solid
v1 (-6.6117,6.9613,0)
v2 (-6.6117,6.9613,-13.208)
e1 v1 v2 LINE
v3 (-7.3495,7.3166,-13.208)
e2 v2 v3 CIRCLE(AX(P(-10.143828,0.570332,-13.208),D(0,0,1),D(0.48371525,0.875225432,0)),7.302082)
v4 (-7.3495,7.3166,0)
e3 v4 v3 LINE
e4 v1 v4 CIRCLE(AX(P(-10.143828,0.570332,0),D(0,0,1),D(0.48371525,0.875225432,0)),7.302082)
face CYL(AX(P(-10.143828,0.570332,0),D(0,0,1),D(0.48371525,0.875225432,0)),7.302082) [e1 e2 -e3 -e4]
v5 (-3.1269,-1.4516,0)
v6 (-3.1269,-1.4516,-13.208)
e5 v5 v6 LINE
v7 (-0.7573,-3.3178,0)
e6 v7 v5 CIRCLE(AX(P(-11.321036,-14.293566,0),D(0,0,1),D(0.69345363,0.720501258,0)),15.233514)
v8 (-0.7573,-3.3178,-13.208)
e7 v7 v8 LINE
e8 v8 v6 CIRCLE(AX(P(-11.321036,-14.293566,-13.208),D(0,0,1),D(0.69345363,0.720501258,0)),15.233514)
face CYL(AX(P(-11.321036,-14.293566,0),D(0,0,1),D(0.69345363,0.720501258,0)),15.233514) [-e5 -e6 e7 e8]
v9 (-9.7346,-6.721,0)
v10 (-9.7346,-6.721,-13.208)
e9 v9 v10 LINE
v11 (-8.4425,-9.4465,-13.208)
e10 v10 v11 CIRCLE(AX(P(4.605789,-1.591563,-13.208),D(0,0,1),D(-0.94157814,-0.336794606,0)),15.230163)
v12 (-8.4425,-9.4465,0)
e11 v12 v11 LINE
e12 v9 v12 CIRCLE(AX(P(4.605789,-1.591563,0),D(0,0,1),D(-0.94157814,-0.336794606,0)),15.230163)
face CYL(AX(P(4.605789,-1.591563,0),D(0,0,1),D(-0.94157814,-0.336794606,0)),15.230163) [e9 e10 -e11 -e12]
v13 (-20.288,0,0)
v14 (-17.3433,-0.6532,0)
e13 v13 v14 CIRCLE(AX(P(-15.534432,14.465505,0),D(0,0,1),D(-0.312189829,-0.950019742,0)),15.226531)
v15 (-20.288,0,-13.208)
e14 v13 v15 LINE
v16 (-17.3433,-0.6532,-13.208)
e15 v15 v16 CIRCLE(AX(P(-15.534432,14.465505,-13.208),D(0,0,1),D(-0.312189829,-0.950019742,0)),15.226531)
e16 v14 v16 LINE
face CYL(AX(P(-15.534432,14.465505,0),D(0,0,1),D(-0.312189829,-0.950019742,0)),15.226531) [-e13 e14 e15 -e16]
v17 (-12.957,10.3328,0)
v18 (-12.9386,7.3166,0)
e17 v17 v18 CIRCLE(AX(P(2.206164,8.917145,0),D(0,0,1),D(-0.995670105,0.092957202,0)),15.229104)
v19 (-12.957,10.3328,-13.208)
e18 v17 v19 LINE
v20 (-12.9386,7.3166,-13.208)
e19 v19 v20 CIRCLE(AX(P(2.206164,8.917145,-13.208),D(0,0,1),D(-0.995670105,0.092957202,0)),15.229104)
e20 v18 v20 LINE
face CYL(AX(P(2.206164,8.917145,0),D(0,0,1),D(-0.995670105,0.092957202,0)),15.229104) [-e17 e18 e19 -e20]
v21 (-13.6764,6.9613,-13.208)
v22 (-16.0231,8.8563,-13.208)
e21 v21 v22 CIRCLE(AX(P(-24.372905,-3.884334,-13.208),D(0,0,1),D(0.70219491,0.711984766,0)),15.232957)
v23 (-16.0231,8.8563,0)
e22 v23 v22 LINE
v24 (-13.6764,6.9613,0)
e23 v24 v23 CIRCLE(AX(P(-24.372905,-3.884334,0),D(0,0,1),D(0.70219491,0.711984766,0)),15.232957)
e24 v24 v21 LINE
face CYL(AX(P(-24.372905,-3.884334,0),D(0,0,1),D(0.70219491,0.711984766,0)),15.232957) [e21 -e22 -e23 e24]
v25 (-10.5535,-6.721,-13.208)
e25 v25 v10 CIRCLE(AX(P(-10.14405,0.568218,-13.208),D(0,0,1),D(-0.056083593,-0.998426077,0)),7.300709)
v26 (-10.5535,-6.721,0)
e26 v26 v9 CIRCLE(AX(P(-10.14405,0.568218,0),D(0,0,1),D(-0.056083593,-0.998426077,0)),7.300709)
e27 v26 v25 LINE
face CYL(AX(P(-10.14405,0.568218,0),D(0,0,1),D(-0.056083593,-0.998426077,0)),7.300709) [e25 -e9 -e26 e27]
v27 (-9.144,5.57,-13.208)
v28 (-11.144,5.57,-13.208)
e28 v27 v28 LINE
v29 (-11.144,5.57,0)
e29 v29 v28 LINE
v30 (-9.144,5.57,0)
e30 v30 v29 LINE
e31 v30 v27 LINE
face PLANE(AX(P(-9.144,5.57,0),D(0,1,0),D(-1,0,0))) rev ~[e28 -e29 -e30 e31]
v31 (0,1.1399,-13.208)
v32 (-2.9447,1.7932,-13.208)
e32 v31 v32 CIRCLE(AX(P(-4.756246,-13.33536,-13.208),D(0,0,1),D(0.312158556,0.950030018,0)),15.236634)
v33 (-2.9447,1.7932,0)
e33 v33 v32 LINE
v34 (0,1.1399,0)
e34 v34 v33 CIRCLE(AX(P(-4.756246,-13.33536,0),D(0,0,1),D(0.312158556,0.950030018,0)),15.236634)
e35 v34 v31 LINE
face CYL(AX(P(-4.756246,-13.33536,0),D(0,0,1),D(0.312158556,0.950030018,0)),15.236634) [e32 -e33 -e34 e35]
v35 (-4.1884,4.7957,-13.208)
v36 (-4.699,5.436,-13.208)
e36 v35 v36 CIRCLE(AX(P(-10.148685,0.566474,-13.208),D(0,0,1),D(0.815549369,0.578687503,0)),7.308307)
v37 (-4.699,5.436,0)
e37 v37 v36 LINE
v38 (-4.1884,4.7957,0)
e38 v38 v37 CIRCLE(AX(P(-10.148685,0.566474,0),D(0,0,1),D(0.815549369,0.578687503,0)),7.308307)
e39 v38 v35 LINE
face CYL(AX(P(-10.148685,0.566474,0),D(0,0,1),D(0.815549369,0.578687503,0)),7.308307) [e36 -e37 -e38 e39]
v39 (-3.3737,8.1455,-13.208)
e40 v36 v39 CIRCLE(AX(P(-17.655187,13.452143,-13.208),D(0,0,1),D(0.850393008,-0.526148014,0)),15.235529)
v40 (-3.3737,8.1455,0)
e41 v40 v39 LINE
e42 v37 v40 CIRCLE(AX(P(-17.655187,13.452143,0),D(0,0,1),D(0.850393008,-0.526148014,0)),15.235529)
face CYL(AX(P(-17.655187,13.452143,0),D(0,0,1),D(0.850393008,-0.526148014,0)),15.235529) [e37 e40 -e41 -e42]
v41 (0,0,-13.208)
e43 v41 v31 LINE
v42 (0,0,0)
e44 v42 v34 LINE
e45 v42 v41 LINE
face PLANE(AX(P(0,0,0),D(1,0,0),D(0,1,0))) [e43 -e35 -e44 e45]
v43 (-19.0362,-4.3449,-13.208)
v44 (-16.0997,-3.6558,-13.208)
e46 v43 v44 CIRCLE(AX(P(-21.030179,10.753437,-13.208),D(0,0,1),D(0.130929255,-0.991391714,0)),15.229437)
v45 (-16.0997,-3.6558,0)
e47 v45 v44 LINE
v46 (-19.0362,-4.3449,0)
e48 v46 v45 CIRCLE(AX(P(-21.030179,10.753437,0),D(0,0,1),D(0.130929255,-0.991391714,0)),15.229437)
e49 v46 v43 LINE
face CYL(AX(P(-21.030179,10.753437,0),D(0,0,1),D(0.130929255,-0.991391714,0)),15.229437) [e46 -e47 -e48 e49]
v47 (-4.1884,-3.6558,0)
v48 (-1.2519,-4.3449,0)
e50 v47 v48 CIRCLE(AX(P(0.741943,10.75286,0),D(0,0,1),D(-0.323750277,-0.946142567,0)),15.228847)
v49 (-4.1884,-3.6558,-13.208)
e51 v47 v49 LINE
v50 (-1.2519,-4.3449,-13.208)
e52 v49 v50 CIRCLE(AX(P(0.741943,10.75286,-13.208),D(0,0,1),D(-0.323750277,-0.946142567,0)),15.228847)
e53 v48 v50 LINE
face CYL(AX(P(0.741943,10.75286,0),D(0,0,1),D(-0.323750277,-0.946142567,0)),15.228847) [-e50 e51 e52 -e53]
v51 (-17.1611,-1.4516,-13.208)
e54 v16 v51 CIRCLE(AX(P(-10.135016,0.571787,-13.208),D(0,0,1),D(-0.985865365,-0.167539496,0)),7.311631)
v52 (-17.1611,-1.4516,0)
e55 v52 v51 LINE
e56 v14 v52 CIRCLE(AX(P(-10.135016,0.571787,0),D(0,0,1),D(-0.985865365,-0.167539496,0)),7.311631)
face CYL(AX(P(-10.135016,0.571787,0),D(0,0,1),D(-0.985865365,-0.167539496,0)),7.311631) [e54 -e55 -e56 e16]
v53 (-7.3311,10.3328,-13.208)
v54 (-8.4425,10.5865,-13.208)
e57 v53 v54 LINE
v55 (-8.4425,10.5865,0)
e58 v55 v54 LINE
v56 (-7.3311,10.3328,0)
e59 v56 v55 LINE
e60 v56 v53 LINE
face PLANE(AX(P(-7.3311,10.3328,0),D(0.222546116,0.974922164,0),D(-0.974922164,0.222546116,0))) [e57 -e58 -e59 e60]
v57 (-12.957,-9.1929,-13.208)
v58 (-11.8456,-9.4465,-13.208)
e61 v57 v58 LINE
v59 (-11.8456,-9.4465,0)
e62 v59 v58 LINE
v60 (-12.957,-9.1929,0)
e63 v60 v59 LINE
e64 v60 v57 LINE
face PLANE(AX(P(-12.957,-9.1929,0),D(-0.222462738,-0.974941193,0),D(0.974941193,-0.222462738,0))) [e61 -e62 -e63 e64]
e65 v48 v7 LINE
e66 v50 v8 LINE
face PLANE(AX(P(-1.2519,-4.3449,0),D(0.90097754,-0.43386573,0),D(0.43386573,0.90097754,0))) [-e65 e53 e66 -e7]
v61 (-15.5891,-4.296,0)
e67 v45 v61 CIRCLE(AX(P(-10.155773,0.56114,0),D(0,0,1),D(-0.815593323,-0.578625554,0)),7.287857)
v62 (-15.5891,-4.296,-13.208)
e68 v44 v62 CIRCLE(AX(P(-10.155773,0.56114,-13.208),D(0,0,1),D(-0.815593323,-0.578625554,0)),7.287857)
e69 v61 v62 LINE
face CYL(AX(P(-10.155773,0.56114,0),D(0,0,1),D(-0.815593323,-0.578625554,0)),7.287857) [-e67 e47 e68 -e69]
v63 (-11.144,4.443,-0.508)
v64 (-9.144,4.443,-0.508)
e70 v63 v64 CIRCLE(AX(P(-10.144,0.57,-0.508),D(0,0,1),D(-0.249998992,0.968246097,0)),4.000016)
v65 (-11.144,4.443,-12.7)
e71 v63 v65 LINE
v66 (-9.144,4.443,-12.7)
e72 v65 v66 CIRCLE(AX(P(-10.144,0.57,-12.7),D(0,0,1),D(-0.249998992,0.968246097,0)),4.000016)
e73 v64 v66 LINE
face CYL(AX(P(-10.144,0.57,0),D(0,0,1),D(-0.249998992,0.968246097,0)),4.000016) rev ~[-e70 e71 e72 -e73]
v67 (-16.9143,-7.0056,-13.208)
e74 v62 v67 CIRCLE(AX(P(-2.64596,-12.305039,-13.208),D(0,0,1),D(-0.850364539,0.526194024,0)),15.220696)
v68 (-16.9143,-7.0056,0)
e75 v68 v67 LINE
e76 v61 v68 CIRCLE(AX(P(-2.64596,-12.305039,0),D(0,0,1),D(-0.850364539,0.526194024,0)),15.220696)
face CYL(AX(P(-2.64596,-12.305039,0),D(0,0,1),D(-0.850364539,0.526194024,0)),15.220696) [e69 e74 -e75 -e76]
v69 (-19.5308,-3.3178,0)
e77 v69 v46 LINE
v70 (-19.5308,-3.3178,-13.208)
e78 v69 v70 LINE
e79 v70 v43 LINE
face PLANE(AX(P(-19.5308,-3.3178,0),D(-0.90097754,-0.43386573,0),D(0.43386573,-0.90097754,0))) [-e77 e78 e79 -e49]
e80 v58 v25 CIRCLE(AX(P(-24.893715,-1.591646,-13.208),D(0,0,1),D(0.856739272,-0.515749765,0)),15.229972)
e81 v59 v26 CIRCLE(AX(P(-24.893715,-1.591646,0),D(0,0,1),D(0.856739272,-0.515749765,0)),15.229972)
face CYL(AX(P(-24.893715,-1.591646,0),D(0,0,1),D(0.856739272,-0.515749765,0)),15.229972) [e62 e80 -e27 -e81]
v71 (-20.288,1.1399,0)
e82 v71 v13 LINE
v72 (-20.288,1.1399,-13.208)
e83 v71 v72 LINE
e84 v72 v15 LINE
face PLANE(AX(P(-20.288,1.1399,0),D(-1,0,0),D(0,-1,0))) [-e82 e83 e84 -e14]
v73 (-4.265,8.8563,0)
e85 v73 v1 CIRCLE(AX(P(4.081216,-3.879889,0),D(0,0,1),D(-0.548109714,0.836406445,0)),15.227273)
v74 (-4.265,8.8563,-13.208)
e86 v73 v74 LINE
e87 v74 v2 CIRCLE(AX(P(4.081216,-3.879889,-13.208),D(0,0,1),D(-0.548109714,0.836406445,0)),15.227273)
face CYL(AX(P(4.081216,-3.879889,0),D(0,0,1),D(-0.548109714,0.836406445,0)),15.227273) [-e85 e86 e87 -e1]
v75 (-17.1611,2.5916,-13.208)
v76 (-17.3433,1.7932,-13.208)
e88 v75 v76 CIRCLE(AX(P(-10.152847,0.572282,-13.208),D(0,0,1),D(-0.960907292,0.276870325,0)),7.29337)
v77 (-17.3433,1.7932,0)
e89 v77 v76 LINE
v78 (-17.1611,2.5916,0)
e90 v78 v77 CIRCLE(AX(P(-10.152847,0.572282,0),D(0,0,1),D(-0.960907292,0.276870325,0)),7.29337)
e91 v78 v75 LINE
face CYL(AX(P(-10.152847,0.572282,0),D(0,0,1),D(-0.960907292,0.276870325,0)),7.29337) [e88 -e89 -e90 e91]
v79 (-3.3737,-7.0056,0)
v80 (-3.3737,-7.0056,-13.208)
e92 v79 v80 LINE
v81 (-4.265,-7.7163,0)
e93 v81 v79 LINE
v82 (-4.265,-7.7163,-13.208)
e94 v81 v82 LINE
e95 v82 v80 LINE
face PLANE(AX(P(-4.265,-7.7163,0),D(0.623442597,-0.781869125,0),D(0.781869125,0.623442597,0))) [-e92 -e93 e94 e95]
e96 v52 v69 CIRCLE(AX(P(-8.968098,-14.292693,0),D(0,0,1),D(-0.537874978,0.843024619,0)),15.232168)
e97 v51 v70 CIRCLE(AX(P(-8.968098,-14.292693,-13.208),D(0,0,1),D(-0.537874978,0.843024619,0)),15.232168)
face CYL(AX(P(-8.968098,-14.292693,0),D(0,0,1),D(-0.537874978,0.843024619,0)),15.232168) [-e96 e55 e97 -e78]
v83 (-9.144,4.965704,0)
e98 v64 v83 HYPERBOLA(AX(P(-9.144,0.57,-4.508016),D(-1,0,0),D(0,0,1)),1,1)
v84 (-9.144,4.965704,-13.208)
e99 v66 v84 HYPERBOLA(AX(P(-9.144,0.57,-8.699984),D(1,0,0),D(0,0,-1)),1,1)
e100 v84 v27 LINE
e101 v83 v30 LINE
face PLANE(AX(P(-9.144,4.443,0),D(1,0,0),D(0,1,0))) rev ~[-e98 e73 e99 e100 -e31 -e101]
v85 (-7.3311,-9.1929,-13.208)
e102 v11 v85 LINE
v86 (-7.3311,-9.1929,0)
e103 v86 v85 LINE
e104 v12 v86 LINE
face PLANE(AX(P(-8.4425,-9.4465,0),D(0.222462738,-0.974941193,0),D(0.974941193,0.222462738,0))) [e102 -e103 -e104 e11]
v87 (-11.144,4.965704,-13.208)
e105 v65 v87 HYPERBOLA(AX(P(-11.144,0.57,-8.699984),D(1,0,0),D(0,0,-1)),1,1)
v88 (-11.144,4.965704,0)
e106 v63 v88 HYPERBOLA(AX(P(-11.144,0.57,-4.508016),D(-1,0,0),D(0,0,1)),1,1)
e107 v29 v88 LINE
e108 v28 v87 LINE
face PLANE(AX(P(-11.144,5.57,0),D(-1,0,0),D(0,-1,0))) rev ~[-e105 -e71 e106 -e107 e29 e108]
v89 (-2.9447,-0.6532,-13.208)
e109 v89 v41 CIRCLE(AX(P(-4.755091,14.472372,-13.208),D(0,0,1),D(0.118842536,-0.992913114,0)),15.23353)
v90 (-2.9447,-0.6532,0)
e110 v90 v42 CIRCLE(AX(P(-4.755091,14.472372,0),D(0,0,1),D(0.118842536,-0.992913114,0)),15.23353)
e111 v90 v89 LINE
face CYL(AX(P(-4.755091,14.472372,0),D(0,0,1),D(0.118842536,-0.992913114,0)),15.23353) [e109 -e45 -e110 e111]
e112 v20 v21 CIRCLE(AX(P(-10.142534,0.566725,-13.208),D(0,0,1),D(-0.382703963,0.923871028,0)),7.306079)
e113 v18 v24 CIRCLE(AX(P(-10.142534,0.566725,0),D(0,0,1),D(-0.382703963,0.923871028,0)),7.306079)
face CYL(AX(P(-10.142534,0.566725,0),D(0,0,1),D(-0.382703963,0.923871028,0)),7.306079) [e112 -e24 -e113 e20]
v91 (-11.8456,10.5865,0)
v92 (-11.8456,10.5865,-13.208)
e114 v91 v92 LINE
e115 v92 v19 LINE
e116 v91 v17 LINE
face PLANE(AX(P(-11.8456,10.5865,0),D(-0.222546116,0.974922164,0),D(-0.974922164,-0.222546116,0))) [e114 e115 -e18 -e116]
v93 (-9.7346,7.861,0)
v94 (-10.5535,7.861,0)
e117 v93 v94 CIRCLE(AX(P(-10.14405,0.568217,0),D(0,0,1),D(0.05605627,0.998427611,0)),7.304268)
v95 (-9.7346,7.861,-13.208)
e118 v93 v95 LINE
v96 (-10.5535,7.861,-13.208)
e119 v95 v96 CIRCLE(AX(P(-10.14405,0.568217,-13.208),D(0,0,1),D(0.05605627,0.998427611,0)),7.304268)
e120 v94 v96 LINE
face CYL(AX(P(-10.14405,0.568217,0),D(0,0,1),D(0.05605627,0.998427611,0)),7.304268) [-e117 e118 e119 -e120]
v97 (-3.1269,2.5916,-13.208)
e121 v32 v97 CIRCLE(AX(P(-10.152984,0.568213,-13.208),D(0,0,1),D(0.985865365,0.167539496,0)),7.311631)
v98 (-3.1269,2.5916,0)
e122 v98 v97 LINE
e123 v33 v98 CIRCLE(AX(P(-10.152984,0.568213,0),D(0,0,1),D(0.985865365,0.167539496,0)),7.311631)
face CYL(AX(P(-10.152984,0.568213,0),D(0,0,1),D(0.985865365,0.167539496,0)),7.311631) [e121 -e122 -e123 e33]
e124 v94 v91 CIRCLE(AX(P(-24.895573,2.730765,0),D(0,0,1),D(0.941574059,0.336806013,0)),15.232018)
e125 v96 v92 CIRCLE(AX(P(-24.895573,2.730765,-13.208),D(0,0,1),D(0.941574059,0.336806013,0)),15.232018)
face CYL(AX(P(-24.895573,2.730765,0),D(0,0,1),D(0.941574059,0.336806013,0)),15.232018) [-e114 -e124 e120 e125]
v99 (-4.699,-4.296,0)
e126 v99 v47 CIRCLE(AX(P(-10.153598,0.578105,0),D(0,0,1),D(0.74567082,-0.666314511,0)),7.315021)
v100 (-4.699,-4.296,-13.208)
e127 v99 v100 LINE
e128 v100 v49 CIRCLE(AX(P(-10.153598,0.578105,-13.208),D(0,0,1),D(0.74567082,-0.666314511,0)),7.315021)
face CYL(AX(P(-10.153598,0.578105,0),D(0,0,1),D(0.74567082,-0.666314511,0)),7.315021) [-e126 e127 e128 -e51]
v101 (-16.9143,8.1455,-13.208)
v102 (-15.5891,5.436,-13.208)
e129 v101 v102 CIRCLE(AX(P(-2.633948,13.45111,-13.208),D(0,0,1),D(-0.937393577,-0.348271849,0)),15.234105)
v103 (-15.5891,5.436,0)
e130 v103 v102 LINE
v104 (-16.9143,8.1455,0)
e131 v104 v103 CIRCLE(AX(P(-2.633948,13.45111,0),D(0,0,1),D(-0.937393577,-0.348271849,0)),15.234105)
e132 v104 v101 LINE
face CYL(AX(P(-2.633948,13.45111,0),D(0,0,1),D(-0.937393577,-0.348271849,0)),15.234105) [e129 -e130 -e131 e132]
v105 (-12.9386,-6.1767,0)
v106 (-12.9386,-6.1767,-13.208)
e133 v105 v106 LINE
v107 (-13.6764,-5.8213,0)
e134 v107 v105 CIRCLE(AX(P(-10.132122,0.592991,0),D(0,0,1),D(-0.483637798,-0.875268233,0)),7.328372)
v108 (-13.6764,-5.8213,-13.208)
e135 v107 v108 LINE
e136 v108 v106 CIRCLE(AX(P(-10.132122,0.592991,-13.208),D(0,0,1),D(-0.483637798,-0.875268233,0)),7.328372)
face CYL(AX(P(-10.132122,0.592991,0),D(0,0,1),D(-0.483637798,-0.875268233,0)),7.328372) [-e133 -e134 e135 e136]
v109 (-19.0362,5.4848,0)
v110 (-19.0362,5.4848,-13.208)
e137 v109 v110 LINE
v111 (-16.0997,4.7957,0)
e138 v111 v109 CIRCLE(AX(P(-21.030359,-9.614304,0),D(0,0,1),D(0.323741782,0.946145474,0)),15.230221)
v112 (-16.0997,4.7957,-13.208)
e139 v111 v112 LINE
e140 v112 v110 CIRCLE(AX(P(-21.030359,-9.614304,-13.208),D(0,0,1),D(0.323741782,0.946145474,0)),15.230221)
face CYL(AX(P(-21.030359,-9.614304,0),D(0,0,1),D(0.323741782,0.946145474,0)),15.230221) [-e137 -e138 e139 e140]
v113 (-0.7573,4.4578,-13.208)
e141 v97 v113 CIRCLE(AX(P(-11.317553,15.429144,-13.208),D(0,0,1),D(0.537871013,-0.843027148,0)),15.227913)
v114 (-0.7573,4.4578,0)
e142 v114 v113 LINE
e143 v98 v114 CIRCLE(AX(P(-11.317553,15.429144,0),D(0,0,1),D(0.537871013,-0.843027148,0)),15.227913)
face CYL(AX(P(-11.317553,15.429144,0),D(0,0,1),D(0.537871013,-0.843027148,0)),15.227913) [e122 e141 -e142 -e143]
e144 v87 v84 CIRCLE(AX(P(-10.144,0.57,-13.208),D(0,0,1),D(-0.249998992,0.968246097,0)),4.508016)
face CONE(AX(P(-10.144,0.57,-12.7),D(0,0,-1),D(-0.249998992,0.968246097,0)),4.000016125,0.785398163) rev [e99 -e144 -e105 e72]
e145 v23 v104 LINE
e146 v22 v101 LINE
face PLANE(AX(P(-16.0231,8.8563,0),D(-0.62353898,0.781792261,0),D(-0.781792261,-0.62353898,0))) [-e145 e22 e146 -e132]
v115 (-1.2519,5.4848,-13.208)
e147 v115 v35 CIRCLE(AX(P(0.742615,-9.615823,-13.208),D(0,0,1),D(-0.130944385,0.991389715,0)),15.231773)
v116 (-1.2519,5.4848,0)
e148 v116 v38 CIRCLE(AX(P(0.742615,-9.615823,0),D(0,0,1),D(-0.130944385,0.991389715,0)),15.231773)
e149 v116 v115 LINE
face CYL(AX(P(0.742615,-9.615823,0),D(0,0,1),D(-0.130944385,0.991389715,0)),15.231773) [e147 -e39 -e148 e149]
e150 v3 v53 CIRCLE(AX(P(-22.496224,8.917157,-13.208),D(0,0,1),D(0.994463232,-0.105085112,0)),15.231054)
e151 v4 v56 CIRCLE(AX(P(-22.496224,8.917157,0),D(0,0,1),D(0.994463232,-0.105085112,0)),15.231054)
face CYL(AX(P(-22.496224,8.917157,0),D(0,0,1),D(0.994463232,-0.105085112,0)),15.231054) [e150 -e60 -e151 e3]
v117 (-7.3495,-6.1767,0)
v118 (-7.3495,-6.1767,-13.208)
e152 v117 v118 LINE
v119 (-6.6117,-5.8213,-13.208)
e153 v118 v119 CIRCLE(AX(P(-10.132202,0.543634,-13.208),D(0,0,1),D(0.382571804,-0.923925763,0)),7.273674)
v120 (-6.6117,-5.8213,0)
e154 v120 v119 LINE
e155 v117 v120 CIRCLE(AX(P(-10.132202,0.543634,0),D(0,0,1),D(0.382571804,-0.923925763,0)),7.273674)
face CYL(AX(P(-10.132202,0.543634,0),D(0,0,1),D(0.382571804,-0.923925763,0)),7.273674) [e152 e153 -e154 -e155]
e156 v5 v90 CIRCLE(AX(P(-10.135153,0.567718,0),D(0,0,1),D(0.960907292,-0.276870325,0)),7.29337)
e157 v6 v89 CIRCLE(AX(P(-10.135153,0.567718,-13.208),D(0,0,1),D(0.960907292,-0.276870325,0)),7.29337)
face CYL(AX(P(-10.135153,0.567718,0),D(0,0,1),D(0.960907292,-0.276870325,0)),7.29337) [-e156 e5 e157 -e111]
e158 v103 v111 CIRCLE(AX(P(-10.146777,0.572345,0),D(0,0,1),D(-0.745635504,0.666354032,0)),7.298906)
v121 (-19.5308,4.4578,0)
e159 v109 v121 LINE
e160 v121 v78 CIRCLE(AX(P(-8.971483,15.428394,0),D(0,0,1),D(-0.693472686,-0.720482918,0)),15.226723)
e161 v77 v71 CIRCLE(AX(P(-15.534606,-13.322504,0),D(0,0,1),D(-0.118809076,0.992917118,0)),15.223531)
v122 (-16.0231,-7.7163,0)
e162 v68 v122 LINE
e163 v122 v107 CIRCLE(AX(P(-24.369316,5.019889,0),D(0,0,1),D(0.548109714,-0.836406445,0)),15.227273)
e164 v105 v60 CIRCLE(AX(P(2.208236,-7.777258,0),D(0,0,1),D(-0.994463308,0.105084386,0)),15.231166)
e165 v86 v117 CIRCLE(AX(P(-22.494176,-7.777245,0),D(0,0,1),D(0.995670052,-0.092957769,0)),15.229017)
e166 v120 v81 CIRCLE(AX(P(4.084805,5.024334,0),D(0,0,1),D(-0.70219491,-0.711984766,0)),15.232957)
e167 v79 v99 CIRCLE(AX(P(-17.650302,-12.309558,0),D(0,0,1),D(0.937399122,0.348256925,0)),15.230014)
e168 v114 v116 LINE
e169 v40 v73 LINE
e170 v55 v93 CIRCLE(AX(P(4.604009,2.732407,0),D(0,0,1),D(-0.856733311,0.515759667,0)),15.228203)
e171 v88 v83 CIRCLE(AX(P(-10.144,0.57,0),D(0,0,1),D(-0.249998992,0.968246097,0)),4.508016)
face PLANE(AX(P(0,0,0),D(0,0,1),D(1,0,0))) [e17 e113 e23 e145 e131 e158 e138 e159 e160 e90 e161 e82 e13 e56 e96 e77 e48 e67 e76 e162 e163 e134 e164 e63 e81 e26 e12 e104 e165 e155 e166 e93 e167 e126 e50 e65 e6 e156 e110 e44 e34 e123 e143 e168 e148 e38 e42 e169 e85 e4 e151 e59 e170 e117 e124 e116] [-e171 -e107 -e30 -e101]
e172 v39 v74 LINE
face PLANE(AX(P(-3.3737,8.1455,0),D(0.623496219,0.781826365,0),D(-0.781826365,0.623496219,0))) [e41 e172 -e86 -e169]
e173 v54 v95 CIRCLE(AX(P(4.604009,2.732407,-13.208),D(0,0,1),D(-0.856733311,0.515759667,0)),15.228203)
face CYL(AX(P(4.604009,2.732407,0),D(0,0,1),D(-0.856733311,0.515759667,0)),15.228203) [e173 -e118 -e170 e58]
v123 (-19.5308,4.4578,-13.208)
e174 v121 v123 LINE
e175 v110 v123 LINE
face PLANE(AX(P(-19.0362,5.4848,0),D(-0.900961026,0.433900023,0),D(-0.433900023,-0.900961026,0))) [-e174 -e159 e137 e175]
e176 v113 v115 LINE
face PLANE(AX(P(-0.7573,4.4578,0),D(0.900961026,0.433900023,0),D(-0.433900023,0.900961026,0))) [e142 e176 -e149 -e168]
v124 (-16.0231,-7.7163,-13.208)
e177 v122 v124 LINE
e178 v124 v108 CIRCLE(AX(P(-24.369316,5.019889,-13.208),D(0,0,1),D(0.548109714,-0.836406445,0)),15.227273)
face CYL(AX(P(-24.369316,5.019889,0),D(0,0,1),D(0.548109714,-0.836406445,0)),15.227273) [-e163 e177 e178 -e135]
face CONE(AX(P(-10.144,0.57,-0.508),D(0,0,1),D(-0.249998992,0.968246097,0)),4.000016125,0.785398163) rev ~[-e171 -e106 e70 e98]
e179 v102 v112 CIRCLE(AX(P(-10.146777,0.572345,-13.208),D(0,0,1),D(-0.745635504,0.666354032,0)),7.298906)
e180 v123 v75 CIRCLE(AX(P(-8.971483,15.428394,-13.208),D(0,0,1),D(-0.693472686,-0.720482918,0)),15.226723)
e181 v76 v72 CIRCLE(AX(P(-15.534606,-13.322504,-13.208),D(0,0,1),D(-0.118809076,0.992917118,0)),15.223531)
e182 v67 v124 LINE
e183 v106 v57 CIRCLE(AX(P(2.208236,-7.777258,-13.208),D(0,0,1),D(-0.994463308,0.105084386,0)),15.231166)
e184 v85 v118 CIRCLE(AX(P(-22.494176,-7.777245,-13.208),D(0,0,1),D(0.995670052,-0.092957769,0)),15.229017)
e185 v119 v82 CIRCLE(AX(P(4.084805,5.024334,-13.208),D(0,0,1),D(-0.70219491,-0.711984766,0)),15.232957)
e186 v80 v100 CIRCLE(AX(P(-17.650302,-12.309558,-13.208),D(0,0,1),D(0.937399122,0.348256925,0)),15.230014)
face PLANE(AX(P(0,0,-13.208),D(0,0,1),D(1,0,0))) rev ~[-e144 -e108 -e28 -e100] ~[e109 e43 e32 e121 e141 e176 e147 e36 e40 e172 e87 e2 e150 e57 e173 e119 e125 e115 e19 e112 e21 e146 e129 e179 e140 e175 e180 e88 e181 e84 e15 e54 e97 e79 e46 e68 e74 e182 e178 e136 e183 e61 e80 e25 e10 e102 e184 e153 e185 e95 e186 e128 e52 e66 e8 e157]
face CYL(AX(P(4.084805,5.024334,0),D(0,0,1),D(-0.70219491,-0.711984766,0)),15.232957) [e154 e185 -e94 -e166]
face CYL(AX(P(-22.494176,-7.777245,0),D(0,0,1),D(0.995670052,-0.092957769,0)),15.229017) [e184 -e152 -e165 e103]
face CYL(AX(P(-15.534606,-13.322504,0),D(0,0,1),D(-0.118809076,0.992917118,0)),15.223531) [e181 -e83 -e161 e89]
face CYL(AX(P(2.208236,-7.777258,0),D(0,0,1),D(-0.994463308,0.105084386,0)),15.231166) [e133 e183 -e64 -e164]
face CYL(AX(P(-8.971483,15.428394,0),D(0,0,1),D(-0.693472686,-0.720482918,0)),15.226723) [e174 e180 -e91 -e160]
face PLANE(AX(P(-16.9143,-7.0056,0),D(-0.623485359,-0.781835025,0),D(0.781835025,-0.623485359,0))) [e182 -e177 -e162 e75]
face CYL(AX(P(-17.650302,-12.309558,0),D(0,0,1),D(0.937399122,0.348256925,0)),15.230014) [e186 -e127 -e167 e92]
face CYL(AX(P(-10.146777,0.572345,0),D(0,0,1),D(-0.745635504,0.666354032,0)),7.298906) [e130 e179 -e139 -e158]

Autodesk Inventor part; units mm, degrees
ref_plane "YZ Plane" through (0, 0, 0) normal (1, 0, 0) x (0, 1, 0)
ref_plane "XZ Plane" through (0, 0, 0) normal (0, 1, 0) x (-1, 0, 0)
ref_plane "XY Plane" through (0, 0, 0) normal (0, 0, 1) x (1, 0, 0)
sketch "Sketch1" plane through (0, 0, 0) normal (0, 0, 1) x (1, 0, 0)
  arc A0 (-3.1269, -1.4516) -> (-2.9447, -0.6532) centre (-10.144, 0.57) ccw
  arc A1 (-2.9447, -0.6532) -> (0, 0) centre (-4.7545, 14.4689) ccw
  line L0 (0, 0) -> (0, 1.1399)
  arc A2 (0, 1.1399) -> (-2.9447, 1.7932) centre (-4.7545, -13.329) ccw
  arc A3 (-2.9447, 1.7932) -> (-3.1269, 2.5916) centre (-10.144, 0.57) ccw
  arc A4 (-3.1269, 2.5916) -> (-0.7573, 4.4578) centre (-11.3188, 15.4309) ccw
  line L1 (-0.7573, 4.4578) -> (-1.2519, 5.4848)
  arc A5 (-1.2519, 5.4848) -> (-4.1884, 4.7957) centre (0.7423, -9.6141) ccw
  arc A6 (-4.1884, 4.7957) -> (-4.699, 5.436) centre (-10.144, 0.57) ccw
  arc A7 (-4.699, 5.436) -> (-3.3737, 8.1455) centre (-17.6504, 13.4495) ccw
  line L2 (-3.3737, 8.1455) -> (-4.265, 8.8563)
  arc A8 (-4.265, 8.8563) -> (-6.6117, 6.9613) centre (4.0829, -3.8822) ccw
  arc A9 (-6.6117, 6.9613) -> (-7.3495, 7.3166) centre (-10.144, 0.57) ccw
  arc A10 (-7.3495, 7.3166) -> (-7.3311, 10.3328) centre (-22.4952, 8.9171) ccw
  line L3 (-7.3311, 10.3328) -> (-8.4425, 10.5865)
  arc A11 (-8.4425, 10.5865) -> (-9.7346, 7.861) centre (4.6057, 2.7315) ccw
  arc A12 (-9.7346, 7.861) -> (-10.5535, 7.861) centre (-10.144, 0.57) ccw
  arc A13 (-10.5535, 7.861) -> (-11.8456, 10.5865) centre (-24.8938, 2.7315) ccw
  line L4 (-11.8456, 10.5865) -> (-12.957, 10.3328)
  arc A14 (-12.957, 10.3328) -> (-12.9386, 7.3166) centre (2.2072, 8.9171) ccw
  arc A15 (-12.9386, 7.3166) -> (-13.6764, 6.9613) centre (-10.144, 0.57) ccw
  arc A16 (-13.6764, 6.9613) -> (-16.0231, 8.8563) centre (-24.371, -3.8822) ccw
  line L5 (-16.0231, 8.8563) -> (-16.9143, 8.1455)
  arc A17 (-16.9143, 8.1455) -> (-15.5891, 5.436) centre (-2.6377, 13.4495) ccw
  arc A18 (-15.5891, 5.436) -> (-16.0997, 4.7957) centre (-10.144, 0.57) ccw
  arc A19 (-16.0997, 4.7957) -> (-19.0362, 5.4848) centre (-21.0303, -9.6141) ccw
  line L6 (-19.0362, 5.4848) -> (-19.5308, 4.4578)
  arc A20 (-19.5308, 4.4578) -> (-17.1611, 2.5916) centre (-8.9693, 15.4309) ccw
  arc A21 (-17.1611, 2.5916) -> (-17.3433, 1.7932) centre (-10.144, 0.57) ccw
  arc A22 (-17.3433, 1.7932) -> (-20.288, 1.1399) centre (-15.5335, -13.329) ccw
  line L7 (-20.288, 1.1399) -> (-20.288, 0)
  arc A23 (-20.288, 0) -> (-17.3433, -0.6532) centre (-15.5335, 14.4689) ccw
  arc A24 (-17.3433, -0.6532) -> (-17.1611, -1.4516) centre (-10.144, 0.57) ccw
  arc A25 (-17.1611, -1.4516) -> (-19.5308, -3.3178) centre (-8.9693, -14.291) ccw
  line L8 (-19.5308, -3.3178) -> (-19.0362, -4.3449)
  arc A26 (-19.0362, -4.3449) -> (-16.0997, -3.6558) centre (-21.0303, 10.7541) ccw
  arc A27 (-16.0997, -3.6558) -> (-15.5891, -4.296) centre (-10.144, 0.57) ccw
  arc A28 (-15.5891, -4.296) -> (-16.9143, -7.0056) centre (-2.6377, -12.3096) ccw
  line L9 (-16.9143, -7.0056) -> (-16.0231, -7.7163)
  arc A29 (-16.0231, -7.7163) -> (-13.6764, -5.8213) centre (-24.371, 5.0222) ccw
  arc A30 (-13.6764, -5.8213) -> (-12.9386, -6.1767) centre (-10.144, 0.57) ccw
  arc A31 (-12.9386, -6.1767) -> (-12.957, -9.1929) centre (2.2072, -7.7772) ccw
  line L10 (-12.957, -9.1929) -> (-11.8456, -9.4465)
  arc A32 (-11.8456, -9.4465) -> (-10.5535, -6.721) centre (-24.8938, -1.5916) ccw
  arc A33 (-10.5535, -6.721) -> (-9.7346, -6.721) centre (-10.144, 0.57) ccw
  arc A34 (-9.7346, -6.721) -> (-8.4425, -9.4465) centre (4.6057, -1.5916) ccw
  line L11 (-8.4425, -9.4465) -> (-7.3311, -9.1929)
  arc A35 (-7.3311, -9.1929) -> (-7.3495, -6.1767) centre (-22.4952, -7.7772) ccw
  arc A36 (-7.3495, -6.1767) -> (-6.6117, -5.8213) centre (-10.144, 0.57) ccw
  arc A37 (-6.6117, -5.8213) -> (-4.265, -7.7163) centre (4.0829, 5.0222) ccw
  line L12 (-4.265, -7.7163) -> (-3.3737, -7.0056)
  arc A38 (-3.3737, -7.0056) -> (-4.699, -4.296) centre (-17.6504, -12.3096) ccw
  arc A39 (-4.699, -4.296) -> (-4.1884, -3.6558) centre (-10.144, 0.57) ccw
  arc A40 (-4.1884, -3.6558) -> (-1.2519, -4.3449) centre (0.7423, 10.7541) ccw
  line L13 (-1.2519, -4.3449) -> (-0.7573, -3.3178)
  arc A41 (-0.7573, -3.3178) -> (-3.1269, -1.4516) centre (-11.3188, -14.291) ccw
  line L14 (-9.144, 5.57) -> (-11.144, 5.57)
  line L15 (-9.144, 4.443) -> (-9.144, 5.57)
  arc A42 (-11.144, 4.443) -> (-9.144, 4.443) centre (-10.144, 0.57) ccw
  line L16 (-11.144, 5.57) -> (-11.144, 4.443)
extrude "Extrusion1" add sketch "Sketch1" against normal blind 13.208
chamfer "Chamfer1" distance 0.508 angle 45 2 edges at (-10.144, -3.43, 0) (-10.144, -3.43, -13.208)
properties part number "am-0741"
